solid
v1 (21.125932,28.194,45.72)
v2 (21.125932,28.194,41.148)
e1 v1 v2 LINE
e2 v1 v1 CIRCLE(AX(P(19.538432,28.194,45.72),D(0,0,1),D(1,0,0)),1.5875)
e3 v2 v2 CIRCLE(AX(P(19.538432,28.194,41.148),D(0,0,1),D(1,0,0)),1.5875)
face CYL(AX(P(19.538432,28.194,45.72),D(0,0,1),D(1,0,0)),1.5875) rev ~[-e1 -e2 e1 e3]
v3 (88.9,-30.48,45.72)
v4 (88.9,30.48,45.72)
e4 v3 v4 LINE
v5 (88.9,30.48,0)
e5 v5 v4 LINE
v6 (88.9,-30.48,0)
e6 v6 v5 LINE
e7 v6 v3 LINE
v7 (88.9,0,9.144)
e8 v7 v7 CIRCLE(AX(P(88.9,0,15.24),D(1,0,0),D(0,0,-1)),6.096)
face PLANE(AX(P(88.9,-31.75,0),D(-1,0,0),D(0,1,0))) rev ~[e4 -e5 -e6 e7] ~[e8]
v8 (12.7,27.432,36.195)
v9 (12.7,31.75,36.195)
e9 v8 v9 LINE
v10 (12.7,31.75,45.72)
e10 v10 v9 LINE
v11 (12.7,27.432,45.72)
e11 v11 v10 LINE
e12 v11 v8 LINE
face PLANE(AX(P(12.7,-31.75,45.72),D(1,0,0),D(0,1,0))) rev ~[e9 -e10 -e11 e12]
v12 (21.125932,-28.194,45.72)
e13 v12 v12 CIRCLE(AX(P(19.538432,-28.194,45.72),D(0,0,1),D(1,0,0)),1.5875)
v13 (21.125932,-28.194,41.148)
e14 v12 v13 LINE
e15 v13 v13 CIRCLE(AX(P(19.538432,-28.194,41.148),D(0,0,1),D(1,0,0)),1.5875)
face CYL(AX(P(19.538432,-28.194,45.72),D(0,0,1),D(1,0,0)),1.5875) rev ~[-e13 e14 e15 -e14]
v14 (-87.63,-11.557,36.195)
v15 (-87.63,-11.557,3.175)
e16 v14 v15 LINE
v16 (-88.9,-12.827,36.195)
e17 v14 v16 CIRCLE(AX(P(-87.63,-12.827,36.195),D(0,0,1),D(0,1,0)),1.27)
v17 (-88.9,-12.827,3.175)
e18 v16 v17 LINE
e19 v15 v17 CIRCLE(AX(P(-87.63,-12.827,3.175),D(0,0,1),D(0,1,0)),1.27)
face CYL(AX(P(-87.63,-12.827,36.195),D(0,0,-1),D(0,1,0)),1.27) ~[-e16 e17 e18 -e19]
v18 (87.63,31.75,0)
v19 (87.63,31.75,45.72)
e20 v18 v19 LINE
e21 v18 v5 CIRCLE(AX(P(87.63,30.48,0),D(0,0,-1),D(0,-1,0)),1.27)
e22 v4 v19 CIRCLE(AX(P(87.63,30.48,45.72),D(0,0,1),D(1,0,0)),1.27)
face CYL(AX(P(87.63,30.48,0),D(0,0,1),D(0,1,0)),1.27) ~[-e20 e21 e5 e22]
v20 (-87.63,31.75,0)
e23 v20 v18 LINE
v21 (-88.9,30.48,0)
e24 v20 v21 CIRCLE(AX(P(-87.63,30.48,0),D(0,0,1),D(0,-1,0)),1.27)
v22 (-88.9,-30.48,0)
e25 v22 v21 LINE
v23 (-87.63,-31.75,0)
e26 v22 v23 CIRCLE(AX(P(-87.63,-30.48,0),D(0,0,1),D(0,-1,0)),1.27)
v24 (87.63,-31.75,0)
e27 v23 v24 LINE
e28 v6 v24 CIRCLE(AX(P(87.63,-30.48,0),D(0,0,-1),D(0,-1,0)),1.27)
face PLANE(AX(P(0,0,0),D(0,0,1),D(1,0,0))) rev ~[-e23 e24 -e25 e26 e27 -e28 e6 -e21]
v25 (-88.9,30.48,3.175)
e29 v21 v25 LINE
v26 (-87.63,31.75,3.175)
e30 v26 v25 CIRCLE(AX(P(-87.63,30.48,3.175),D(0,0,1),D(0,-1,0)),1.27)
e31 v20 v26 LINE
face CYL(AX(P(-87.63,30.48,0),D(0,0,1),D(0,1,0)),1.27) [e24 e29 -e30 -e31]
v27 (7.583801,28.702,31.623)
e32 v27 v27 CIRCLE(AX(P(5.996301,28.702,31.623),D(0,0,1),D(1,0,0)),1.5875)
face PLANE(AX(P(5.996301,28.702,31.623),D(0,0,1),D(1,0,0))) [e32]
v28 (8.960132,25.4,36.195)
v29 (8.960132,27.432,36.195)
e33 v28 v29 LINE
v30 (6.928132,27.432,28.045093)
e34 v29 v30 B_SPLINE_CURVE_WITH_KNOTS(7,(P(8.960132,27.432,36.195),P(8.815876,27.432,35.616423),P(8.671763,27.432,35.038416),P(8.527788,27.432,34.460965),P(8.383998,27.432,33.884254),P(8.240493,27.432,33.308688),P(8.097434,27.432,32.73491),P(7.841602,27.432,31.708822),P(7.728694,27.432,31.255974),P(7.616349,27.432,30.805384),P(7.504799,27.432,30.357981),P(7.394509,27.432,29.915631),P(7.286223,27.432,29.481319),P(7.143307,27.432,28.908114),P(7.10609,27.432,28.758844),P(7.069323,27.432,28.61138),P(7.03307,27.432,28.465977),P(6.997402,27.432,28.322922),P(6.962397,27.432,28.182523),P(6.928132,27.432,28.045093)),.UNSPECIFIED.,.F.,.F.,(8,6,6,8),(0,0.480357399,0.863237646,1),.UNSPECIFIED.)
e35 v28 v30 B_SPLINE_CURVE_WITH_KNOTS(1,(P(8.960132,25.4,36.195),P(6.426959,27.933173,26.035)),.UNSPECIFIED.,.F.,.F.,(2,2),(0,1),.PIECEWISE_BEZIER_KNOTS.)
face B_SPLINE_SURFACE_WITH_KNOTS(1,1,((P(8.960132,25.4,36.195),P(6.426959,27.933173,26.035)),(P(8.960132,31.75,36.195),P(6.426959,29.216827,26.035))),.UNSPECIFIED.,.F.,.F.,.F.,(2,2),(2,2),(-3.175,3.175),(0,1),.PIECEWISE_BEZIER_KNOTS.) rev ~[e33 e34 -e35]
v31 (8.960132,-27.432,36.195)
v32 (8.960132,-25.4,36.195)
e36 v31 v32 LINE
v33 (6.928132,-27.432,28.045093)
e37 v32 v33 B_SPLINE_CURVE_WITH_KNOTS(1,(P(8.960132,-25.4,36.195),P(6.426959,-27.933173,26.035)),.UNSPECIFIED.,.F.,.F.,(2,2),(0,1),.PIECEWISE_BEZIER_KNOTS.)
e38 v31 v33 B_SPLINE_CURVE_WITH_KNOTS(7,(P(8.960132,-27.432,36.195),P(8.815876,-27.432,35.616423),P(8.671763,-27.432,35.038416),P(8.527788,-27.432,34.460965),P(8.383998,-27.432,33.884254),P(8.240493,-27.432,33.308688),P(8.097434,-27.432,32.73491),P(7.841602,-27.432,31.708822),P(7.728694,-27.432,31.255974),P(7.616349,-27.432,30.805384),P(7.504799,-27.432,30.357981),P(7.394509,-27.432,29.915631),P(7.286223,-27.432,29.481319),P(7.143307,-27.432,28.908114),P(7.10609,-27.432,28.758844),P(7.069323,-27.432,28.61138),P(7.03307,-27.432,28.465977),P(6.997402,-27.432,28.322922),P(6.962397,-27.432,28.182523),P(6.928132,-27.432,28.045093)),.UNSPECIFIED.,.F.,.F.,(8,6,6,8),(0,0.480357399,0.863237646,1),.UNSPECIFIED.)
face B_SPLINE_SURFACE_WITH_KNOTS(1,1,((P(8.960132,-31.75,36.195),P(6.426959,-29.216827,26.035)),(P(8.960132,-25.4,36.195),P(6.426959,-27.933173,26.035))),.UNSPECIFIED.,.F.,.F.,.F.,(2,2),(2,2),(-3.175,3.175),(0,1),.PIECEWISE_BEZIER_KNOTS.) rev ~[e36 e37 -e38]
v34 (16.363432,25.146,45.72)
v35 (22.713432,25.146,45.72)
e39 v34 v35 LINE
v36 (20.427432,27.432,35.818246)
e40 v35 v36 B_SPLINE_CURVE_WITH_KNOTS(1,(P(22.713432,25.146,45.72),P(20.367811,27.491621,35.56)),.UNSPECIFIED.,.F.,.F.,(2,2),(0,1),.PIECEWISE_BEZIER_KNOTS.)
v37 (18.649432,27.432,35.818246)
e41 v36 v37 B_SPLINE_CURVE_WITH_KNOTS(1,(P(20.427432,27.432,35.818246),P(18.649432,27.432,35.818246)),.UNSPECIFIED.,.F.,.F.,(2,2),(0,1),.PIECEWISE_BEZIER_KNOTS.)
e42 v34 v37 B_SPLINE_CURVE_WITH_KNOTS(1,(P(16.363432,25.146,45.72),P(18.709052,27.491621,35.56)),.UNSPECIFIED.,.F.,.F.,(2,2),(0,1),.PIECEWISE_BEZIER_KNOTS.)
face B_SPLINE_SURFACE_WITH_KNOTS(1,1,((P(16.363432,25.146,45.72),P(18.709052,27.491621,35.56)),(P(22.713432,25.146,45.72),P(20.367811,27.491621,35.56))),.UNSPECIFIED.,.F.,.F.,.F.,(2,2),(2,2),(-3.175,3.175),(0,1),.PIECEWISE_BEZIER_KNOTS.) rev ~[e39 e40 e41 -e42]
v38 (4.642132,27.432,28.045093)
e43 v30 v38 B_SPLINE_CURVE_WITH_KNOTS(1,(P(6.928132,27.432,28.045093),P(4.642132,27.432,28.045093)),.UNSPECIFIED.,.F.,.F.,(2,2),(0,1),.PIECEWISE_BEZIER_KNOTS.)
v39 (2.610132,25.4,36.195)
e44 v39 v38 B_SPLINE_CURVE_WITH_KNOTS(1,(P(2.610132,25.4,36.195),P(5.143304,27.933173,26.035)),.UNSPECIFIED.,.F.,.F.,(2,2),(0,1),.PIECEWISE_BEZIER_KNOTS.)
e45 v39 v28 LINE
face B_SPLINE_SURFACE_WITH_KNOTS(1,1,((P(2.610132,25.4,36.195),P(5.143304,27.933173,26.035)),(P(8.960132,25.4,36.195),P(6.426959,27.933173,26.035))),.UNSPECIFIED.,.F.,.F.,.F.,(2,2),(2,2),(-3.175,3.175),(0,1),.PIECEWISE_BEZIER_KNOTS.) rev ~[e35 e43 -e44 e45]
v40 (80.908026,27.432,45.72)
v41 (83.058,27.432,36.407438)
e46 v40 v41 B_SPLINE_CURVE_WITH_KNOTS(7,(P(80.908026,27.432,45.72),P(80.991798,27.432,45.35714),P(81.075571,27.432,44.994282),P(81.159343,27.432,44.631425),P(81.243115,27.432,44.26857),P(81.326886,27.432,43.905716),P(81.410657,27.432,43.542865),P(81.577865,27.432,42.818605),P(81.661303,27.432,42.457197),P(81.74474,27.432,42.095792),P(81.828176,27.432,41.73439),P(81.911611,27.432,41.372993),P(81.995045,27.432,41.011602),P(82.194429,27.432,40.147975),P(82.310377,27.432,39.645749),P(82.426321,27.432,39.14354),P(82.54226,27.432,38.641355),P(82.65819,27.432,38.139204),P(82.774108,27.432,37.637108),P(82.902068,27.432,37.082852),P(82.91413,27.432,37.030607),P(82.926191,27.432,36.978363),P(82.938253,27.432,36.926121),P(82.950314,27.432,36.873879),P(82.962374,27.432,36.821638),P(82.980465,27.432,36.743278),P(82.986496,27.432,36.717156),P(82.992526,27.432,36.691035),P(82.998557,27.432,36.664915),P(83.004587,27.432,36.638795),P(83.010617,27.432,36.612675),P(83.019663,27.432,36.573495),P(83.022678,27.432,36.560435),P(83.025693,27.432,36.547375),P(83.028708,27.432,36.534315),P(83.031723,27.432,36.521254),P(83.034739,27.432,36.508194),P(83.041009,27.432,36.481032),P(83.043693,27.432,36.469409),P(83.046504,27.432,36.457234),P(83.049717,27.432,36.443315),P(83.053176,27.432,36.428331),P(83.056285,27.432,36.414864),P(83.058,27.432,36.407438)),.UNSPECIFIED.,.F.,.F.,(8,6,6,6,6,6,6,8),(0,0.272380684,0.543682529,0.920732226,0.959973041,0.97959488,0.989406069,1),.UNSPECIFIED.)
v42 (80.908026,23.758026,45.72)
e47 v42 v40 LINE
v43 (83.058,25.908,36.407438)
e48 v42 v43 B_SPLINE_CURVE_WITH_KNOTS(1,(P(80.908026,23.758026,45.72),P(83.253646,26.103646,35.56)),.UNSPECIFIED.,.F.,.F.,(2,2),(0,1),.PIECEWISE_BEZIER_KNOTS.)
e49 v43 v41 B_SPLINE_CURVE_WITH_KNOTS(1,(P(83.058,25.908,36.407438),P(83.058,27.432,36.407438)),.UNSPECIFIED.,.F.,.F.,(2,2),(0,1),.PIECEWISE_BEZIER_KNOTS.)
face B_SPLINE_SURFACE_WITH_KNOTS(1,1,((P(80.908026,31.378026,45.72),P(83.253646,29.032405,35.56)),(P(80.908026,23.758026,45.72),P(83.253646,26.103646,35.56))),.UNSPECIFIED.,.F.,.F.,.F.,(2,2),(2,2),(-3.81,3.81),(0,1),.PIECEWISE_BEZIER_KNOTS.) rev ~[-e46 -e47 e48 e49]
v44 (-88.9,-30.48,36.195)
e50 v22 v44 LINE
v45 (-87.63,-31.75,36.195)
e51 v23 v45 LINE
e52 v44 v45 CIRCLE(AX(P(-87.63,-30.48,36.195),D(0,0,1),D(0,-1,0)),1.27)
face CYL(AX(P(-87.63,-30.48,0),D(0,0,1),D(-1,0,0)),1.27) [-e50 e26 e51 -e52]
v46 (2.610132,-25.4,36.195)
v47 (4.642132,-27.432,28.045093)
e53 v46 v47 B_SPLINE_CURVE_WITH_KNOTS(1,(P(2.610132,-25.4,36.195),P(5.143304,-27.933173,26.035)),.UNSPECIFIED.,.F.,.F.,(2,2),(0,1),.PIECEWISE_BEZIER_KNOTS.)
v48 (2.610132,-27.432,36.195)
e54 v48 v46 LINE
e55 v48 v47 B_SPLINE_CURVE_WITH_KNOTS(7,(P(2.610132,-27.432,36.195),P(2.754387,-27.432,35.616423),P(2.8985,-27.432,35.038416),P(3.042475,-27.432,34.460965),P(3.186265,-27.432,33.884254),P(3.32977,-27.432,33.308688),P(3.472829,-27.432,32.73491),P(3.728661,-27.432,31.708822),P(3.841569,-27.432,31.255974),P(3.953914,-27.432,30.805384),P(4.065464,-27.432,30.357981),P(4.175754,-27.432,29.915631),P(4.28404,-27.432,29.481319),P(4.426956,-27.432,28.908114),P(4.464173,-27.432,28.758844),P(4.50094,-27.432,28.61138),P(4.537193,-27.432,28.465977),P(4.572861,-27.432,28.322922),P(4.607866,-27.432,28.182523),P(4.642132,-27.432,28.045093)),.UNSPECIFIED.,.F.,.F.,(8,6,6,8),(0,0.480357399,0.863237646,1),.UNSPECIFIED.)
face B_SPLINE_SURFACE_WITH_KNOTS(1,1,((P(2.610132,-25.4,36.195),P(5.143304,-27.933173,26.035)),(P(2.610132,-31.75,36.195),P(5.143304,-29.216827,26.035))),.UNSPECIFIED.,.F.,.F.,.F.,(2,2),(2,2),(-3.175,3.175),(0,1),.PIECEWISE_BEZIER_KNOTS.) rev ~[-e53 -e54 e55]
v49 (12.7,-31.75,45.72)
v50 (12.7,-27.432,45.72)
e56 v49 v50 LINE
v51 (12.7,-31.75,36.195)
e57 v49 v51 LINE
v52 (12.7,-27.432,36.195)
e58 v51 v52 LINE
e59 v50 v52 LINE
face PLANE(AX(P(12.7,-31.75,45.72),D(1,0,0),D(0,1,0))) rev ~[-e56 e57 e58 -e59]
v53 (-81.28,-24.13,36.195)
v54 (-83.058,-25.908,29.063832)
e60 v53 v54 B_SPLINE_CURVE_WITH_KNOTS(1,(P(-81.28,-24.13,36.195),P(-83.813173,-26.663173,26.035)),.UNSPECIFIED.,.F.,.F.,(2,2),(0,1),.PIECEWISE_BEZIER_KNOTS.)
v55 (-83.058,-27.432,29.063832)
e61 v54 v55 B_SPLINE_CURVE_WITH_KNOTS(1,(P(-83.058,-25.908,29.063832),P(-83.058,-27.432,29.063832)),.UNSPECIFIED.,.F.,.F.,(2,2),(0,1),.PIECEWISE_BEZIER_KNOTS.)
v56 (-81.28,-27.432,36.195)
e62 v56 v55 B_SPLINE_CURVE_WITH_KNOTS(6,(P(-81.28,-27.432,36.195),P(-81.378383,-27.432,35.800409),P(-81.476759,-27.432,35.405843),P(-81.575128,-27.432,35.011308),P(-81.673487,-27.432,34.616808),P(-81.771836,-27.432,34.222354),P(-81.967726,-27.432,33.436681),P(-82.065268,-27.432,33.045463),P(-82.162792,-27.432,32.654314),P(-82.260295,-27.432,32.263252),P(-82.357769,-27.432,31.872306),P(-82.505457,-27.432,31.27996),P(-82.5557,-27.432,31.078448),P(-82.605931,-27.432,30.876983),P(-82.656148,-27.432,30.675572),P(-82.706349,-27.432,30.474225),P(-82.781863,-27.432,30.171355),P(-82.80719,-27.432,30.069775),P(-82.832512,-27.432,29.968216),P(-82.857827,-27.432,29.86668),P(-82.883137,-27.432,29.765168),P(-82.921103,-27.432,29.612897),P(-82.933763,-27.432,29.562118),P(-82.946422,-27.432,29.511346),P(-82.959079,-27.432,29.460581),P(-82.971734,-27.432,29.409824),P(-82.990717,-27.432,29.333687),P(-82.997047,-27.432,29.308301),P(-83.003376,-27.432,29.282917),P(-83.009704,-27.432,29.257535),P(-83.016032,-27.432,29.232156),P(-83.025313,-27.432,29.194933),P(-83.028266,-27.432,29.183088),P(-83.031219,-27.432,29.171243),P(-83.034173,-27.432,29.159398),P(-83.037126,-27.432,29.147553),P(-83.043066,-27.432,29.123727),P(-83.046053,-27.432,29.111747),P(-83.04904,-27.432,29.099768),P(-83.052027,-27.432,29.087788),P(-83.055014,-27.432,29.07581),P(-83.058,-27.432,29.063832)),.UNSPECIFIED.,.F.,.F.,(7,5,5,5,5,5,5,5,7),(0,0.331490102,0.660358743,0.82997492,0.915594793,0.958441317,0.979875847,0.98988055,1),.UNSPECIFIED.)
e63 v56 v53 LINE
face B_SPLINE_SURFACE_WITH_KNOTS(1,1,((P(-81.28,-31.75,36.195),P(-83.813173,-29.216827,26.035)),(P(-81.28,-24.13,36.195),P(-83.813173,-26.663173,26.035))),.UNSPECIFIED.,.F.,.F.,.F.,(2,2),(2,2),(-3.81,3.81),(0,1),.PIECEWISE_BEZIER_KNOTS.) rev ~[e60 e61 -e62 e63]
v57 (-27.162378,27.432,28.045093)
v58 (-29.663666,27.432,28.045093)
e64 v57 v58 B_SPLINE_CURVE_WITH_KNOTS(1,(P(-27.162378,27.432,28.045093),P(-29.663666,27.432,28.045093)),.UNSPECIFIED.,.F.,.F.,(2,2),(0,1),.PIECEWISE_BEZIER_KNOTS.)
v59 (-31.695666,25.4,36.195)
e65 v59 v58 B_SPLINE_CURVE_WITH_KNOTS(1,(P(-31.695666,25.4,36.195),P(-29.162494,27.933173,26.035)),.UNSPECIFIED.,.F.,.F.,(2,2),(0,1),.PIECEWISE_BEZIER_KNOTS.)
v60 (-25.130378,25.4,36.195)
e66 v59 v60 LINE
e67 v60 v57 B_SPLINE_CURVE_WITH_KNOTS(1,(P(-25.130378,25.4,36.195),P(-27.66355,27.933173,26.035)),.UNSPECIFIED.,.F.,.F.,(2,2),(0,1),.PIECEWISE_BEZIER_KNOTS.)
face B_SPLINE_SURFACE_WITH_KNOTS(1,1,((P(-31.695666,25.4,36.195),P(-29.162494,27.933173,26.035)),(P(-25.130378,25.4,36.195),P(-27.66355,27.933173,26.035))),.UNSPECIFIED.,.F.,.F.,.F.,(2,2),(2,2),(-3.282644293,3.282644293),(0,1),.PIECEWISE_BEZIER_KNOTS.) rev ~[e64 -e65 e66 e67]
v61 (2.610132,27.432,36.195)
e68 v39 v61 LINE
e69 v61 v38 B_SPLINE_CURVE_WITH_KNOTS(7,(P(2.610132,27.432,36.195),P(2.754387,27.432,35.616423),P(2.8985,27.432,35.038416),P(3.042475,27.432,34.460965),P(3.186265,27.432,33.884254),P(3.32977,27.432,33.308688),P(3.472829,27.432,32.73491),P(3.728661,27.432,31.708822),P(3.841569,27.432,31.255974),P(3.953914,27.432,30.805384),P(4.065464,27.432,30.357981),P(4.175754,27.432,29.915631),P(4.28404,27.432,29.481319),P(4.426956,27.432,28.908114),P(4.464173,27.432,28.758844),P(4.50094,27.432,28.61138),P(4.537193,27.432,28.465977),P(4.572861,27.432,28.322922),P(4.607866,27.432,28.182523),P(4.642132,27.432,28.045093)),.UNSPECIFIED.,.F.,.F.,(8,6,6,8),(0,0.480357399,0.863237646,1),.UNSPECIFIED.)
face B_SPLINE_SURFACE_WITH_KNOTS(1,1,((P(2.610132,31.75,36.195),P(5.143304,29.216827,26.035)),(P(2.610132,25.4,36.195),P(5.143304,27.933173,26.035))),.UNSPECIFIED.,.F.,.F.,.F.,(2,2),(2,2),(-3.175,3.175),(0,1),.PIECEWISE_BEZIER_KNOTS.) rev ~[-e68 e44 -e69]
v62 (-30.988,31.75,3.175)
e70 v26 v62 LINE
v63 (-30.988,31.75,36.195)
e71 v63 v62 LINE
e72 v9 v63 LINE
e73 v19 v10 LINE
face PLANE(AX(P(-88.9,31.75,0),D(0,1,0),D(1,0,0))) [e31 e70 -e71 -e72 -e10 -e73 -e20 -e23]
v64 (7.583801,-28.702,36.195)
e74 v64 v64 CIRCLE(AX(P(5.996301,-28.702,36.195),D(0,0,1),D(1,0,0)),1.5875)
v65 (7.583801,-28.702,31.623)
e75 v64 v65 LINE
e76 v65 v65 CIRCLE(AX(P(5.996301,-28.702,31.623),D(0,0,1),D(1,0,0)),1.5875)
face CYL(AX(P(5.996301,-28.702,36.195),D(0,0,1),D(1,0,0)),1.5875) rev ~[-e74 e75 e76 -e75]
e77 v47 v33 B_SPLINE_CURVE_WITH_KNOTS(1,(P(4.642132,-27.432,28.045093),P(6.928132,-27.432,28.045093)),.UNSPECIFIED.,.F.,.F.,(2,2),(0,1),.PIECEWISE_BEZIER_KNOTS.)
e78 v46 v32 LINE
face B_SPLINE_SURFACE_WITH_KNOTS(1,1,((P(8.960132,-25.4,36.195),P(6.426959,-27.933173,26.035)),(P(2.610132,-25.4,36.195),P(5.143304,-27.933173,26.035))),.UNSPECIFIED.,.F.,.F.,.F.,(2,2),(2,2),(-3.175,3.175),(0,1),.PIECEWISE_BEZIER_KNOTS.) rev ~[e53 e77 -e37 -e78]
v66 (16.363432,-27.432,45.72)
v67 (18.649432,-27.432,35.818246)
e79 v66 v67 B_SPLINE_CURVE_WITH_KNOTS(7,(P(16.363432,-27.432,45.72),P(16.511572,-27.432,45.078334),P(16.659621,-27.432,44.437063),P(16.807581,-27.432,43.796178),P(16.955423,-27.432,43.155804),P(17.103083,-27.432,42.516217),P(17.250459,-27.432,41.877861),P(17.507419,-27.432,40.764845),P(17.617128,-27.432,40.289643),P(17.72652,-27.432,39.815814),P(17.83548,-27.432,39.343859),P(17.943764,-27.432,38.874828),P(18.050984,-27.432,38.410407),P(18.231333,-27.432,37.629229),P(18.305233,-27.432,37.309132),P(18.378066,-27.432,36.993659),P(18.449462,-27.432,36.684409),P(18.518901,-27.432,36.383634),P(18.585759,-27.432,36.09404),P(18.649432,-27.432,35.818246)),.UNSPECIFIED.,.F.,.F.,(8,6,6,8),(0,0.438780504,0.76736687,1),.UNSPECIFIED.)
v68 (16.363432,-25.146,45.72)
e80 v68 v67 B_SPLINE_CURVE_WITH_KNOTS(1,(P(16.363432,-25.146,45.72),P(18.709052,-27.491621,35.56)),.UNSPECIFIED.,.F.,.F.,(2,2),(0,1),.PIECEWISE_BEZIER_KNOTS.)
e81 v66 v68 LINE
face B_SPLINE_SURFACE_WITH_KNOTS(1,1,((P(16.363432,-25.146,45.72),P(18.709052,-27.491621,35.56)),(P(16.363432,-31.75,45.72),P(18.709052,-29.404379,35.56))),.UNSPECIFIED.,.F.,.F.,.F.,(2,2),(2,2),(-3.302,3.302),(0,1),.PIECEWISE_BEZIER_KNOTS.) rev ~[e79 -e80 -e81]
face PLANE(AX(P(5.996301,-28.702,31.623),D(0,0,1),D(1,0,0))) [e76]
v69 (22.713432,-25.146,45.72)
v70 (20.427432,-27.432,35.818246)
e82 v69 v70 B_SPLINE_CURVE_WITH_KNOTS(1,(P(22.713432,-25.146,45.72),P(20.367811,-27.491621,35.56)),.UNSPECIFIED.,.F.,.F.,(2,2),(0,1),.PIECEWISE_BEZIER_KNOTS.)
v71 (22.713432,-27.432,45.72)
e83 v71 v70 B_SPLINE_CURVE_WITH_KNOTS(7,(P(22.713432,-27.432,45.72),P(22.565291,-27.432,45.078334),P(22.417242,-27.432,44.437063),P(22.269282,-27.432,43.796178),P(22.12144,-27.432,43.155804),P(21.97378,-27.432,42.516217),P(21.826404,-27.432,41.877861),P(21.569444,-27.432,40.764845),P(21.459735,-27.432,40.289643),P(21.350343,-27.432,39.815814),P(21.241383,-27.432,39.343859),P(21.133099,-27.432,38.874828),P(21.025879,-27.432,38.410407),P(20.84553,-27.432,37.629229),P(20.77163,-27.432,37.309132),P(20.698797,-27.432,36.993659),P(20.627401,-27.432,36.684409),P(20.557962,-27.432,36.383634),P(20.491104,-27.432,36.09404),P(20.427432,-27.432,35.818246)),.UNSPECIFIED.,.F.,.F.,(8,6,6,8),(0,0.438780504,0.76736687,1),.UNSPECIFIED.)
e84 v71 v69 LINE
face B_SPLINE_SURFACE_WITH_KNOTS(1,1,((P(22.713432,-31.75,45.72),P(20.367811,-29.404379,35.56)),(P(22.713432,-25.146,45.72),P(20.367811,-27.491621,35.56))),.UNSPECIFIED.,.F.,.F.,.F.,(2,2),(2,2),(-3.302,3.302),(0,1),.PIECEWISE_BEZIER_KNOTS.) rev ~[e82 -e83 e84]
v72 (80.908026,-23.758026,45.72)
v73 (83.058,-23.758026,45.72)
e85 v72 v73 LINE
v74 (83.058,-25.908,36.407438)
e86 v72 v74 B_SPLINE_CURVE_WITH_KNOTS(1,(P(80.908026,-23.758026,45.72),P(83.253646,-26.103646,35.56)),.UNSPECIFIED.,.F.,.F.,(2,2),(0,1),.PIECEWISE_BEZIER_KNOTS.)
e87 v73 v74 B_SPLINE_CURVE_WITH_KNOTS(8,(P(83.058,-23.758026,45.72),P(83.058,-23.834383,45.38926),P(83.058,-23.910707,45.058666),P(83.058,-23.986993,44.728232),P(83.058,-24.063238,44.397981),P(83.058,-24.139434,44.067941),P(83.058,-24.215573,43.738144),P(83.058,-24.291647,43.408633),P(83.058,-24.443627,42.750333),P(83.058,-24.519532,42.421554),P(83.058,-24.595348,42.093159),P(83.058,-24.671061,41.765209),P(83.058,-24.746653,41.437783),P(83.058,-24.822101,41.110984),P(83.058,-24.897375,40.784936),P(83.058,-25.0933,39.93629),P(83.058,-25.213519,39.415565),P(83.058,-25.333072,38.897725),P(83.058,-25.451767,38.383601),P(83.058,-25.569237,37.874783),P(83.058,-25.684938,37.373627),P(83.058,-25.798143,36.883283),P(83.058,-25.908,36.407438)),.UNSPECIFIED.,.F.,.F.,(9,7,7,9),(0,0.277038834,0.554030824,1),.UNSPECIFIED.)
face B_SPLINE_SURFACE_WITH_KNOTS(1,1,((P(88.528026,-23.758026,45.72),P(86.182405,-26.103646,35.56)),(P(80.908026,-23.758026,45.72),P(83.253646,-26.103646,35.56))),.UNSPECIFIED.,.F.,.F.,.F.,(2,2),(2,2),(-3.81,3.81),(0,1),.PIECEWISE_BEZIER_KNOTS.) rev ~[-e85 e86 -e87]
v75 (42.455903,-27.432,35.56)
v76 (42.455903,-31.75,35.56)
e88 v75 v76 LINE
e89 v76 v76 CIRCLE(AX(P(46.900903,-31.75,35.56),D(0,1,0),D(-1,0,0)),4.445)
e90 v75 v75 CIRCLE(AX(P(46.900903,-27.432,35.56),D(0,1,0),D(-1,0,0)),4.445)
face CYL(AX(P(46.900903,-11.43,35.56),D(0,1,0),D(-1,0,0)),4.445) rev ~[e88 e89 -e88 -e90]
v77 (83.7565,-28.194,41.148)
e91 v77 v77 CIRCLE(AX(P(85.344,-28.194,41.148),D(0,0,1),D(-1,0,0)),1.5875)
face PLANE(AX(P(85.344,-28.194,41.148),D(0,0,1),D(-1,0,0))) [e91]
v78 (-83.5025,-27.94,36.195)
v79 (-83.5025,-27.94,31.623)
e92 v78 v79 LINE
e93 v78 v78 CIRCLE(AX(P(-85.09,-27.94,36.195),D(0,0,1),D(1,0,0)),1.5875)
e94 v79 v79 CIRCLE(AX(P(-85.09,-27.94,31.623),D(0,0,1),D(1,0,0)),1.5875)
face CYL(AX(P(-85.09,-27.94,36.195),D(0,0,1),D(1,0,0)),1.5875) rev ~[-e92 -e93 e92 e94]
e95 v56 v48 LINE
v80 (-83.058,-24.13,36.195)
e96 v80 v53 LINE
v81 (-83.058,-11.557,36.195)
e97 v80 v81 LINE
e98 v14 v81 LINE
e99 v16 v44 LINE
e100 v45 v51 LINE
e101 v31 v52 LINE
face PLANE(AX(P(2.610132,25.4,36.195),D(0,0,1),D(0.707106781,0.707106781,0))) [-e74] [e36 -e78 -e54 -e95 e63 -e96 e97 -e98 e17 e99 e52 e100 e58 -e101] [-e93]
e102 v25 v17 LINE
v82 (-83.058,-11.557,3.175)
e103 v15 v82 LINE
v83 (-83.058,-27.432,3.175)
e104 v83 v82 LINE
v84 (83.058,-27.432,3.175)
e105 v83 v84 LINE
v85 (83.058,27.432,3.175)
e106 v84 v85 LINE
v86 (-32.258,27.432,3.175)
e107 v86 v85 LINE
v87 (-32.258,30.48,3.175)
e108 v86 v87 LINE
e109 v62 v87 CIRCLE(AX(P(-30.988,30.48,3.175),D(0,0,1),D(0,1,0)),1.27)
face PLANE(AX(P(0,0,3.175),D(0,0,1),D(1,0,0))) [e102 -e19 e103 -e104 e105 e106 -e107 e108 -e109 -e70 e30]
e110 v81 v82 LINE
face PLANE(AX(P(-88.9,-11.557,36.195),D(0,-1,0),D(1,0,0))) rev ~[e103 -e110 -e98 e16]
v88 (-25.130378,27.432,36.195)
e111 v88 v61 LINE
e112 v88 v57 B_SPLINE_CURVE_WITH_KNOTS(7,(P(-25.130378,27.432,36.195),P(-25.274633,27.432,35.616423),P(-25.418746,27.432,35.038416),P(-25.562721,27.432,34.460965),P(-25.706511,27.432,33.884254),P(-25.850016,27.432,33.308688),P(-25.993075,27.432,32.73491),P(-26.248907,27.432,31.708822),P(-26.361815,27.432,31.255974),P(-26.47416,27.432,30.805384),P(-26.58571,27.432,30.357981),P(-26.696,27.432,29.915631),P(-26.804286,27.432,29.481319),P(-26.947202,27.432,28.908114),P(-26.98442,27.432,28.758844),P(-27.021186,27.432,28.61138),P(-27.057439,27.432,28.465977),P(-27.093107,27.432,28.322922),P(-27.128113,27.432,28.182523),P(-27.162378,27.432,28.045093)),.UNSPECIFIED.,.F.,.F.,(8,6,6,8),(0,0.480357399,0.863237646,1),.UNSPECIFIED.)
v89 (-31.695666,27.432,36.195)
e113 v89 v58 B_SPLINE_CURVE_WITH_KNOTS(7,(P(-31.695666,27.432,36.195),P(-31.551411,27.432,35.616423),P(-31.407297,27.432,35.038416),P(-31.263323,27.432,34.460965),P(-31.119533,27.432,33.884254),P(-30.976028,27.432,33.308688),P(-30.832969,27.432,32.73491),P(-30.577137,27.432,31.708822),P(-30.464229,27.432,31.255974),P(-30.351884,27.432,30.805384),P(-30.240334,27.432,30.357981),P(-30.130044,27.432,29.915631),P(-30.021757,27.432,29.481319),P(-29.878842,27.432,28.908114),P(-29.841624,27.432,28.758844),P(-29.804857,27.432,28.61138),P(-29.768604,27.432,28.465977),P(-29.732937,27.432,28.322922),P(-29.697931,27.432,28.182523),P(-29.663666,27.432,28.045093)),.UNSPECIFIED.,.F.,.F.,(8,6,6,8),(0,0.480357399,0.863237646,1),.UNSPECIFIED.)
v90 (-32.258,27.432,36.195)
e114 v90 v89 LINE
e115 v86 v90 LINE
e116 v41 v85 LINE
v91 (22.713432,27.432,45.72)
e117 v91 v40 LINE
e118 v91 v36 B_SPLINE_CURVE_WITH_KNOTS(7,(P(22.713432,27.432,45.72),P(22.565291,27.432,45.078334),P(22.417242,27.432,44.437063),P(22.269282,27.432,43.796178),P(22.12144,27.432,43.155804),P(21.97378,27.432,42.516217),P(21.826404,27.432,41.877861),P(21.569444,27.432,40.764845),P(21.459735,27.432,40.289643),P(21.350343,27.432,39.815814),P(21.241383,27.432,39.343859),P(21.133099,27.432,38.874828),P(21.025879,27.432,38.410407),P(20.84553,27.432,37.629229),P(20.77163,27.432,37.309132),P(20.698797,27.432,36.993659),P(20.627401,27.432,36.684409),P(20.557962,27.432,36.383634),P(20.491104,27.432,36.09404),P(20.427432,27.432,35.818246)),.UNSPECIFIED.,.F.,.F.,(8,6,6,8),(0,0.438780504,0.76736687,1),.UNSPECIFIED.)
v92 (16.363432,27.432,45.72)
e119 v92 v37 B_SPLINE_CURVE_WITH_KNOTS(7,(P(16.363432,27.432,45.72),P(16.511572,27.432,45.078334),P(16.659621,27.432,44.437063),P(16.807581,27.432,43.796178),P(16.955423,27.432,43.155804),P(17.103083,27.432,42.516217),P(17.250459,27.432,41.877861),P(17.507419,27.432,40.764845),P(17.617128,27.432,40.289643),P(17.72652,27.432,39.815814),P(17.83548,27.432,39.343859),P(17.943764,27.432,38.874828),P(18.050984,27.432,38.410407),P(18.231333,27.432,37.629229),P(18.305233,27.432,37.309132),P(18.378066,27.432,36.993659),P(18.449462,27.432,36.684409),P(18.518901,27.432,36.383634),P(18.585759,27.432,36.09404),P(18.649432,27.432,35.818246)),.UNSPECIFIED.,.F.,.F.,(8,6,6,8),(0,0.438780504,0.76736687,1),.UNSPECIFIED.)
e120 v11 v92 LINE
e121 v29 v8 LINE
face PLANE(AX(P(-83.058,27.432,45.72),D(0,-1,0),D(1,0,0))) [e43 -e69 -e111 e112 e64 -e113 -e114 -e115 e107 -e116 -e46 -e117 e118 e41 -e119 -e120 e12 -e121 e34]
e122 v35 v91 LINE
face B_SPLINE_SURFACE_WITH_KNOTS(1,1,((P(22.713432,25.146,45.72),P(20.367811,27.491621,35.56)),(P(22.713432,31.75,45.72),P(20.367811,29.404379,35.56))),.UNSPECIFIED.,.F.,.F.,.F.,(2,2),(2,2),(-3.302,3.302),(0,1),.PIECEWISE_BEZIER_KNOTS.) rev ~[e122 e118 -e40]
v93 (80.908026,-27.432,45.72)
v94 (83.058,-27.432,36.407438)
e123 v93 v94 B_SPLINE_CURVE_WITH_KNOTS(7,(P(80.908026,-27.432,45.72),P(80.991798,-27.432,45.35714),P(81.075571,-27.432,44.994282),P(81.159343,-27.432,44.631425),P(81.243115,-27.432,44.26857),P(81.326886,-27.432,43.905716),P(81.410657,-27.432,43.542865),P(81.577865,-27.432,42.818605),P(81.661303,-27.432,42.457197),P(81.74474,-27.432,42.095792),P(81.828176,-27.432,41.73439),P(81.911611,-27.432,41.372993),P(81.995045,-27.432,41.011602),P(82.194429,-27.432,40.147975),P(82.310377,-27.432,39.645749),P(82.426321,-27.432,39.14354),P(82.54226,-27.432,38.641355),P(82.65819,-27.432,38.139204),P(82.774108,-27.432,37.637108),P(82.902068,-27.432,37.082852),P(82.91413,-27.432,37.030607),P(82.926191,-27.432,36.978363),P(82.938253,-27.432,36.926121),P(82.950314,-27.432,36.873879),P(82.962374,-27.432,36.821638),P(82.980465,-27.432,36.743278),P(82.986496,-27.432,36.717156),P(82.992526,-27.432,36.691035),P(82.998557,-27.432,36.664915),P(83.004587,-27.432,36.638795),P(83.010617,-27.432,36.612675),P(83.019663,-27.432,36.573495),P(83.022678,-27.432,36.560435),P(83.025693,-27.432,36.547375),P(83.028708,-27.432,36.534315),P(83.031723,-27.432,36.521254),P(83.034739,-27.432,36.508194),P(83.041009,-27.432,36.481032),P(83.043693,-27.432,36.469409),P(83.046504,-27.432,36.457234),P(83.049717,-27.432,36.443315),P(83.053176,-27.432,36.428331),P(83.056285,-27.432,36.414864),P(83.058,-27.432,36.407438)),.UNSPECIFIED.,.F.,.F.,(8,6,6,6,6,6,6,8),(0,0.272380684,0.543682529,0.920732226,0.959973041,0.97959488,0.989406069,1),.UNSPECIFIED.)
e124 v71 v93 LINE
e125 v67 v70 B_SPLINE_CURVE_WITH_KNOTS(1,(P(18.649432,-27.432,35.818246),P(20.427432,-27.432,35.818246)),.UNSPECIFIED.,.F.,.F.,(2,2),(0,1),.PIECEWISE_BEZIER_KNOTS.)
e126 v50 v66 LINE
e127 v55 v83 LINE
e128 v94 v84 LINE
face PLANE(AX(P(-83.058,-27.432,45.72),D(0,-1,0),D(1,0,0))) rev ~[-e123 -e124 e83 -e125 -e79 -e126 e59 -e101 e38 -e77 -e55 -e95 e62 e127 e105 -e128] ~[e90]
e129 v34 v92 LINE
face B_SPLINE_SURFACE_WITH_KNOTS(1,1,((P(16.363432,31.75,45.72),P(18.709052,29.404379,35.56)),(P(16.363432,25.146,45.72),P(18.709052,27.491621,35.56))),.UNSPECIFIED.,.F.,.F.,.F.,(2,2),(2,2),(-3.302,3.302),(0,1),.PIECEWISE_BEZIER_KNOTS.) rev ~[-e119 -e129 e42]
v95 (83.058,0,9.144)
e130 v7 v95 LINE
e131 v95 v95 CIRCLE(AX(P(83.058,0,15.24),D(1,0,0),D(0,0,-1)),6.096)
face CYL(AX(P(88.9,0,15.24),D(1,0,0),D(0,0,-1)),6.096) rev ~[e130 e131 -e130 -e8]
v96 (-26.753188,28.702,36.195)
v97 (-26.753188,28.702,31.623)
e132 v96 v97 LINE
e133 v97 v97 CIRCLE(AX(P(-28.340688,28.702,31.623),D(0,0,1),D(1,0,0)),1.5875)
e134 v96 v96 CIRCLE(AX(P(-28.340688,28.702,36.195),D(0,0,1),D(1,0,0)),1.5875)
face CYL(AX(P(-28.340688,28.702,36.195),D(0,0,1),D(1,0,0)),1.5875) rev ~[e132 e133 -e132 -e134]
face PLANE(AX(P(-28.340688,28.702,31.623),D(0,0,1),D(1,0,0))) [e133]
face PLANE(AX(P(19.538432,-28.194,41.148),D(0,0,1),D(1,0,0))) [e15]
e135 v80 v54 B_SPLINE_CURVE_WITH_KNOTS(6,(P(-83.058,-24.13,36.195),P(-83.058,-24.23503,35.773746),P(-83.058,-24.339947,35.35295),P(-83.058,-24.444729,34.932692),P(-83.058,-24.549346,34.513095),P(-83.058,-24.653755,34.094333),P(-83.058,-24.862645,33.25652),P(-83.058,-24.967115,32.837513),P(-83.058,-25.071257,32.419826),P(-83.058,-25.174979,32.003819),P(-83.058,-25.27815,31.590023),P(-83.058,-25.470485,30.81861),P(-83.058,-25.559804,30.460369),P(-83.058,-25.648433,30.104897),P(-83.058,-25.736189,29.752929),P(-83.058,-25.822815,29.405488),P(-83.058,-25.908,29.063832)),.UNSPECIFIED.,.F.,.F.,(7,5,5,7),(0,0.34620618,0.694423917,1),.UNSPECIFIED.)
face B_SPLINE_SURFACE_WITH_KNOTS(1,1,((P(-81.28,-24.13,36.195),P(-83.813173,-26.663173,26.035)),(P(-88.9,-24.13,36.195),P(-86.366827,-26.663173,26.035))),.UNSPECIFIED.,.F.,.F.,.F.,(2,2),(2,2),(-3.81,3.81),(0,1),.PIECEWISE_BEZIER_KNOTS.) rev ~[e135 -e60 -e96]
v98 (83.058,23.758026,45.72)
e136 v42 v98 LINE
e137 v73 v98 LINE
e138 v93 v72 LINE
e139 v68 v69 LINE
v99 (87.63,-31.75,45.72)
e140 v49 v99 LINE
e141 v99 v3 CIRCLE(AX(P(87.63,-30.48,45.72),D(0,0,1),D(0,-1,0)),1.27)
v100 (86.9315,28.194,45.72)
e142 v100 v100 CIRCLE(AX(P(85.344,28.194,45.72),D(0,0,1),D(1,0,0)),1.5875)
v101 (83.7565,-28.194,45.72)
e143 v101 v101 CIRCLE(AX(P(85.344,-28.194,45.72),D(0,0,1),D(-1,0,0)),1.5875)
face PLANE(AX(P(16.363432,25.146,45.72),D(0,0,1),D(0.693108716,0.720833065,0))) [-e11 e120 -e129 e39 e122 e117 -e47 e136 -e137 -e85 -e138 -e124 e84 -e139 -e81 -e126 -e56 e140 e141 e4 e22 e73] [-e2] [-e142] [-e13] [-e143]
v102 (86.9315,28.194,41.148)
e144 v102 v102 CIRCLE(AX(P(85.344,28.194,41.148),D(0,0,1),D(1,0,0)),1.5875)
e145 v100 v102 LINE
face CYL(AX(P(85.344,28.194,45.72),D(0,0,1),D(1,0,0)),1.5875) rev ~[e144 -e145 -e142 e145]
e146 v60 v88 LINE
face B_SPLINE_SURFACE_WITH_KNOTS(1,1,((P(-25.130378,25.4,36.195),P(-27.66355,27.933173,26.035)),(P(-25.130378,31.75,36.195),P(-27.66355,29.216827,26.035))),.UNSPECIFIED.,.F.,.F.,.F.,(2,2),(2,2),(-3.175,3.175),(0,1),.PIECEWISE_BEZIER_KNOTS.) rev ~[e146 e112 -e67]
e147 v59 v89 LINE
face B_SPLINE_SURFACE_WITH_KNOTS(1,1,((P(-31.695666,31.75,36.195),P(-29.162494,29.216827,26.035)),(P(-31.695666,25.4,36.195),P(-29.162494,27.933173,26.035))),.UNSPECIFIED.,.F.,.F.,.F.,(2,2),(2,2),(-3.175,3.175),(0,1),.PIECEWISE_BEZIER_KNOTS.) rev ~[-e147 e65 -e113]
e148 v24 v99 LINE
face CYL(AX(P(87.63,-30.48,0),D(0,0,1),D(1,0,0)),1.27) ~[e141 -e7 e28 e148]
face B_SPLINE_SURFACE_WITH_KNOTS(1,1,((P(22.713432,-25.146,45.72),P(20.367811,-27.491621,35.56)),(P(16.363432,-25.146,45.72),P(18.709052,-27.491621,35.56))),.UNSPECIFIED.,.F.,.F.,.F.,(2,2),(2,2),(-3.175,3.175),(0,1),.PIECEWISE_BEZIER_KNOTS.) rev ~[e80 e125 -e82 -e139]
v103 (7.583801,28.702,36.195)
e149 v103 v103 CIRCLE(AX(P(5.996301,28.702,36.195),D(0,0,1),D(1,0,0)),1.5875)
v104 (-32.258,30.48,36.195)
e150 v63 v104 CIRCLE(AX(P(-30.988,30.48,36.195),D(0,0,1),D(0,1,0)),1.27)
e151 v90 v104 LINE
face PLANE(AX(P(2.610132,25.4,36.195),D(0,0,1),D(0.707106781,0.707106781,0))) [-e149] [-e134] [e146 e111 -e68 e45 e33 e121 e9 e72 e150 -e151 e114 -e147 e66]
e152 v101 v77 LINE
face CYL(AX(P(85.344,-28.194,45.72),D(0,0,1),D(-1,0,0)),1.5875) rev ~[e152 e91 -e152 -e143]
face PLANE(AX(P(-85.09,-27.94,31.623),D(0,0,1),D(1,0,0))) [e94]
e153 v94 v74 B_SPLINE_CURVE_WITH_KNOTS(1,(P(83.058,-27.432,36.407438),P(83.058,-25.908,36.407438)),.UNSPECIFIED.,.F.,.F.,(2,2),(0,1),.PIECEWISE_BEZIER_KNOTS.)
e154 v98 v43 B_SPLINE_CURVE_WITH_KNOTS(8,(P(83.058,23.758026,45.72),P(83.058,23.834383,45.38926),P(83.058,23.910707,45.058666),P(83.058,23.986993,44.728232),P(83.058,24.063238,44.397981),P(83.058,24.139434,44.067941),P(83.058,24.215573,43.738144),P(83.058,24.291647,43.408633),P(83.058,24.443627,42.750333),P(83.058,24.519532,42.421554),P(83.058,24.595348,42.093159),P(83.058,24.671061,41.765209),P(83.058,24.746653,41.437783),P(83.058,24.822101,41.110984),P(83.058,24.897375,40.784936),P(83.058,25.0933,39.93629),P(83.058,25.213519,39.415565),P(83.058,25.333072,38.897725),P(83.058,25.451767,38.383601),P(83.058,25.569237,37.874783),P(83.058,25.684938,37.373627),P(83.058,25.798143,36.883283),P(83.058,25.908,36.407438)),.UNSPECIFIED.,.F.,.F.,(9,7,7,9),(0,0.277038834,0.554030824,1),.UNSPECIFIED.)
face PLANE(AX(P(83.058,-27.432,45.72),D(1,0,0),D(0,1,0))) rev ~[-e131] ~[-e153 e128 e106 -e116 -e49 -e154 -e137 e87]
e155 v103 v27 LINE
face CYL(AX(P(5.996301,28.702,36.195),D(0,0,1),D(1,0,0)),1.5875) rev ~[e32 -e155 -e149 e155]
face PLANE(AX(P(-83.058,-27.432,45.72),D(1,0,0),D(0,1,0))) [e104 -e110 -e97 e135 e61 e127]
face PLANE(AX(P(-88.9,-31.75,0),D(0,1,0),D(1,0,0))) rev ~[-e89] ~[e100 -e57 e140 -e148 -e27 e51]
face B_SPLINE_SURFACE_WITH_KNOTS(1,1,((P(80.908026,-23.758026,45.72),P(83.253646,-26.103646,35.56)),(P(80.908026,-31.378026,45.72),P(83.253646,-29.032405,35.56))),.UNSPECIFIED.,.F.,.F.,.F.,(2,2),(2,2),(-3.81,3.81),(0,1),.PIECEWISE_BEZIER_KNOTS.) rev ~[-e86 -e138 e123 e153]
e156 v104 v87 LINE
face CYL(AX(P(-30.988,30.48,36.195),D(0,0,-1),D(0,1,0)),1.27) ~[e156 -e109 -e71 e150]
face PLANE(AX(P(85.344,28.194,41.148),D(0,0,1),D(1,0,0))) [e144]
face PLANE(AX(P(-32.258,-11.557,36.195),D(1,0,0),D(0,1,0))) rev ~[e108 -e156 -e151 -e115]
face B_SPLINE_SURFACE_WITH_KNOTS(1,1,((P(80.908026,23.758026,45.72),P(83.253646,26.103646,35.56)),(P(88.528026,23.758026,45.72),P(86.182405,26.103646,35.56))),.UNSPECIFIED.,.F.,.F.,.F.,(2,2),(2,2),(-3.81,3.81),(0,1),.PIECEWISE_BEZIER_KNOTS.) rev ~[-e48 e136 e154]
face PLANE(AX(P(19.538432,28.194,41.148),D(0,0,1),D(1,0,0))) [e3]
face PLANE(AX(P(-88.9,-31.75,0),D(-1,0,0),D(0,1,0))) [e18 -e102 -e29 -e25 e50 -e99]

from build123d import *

# Parameters (mm, degrees)
SKETCH1_W           = 177.8
SKETCH1_H           = 63.5
BOSS_EXTRUDE1_DEPTH = 45.72
SKETCH2_W           = 101.6
SKETCH2_H           = 63.5
CUT_EXTRUDE1_DEPTH  = 9.525
SKETCH3_W           = 166.116
SKETCH3_H           = 54.864
CUT_EXTRUDE2_DEPTH  = 42.545
SKETCH4_R           = 6.096
CUT_EXTRUDE3_DEPTH  = 31.75
CUT_EXTRUDE4_START  = -43.18
SKETCH5_R           = 4.445
CUT_EXTRUDE4_DEPTH  = 31.75
SKETCH9_W           = 6.35
SKETCH9_H           = 6.35
SKETCH9_W_2         = 6.565288585
SKETCH9_W_3         = 7.62
SKETCH9_H_2         = 7.62
BOSS_EXTRUDE2_DEPTH = 10.16
BOSS_EXTRUDE2_TAPER = 14
SKETCH6_W           = 56.642
SKETCH6_H           = 43.307
CUT_EXTRUDE5_DEPTH  = 33.02
SKETCH8_R           = 1.5875
CUT_EXTRUDE7_DEPTH  = 4.572
FILLET1_R           = 1.27
FILLET2_R           = 1.27
SKETCH10_W          = 6.35
SKETCH10_H          = 6.604
SKETCH10_W_2        = 7.62
SKETCH10_H_2        = 7.62
BOSS_EXTRUDE3_DEPTH = 10.16
BOSS_EXTRUDE3_TAPER = 13
SKETCH7_R           = 1.5875
CUT_EXTRUDE6_DEPTH  = 4.572
FILLET3_R           = 1.27


with BuildPart() as part:
    # Sketch1 → Boss-Extrude1 (new body)
    with BuildSketch(Plane.XY):
        Rectangle(SKETCH1_W, SKETCH1_H)
    extrude(amount=BOSS_EXTRUDE1_DEPTH)

    # Sketch2 → Cut-Extrude1 (cut)
    with BuildSketch(Plane.XY.offset(45.72)):
        with Locations((-38.1, 0)):
            Rectangle(SKETCH2_W, SKETCH2_H)
    extrude(amount=-CUT_EXTRUDE1_DEPTH, mode=Mode.SUBTRACT)

    # Sketch3 → Cut-Extrude2 (cut)
    with BuildSketch(Plane.XY.offset(45.72)):
        Rectangle(SKETCH3_W, SKETCH3_H)
    extrude(amount=-CUT_EXTRUDE2_DEPTH, mode=Mode.SUBTRACT)

    # Sketch4 → Cut-Extrude3 (cut)
    with BuildSketch(Plane(origin=(88.9, 0, 0), x_dir=(0, 0, -1), z_dir=(1, 0, 0))):
        with Locations((-15.24, 0)):
            Circle(SKETCH4_R)
    extrude(amount=-CUT_EXTRUDE3_DEPTH, mode=Mode.SUBTRACT)

    # Sketch5 → Cut-Extrude4 (cut)
    with BuildSketch(Plane(origin=(0, 31.75, 0), x_dir=(1, 0, 0), z_dir=(0, 1, 0)).offset(CUT_EXTRUDE4_START)):
        with Locations(Location((46.900902689, -35.56, 0), (0, 0, 180))):  # turned: the seam where the file's is
            Circle(SKETCH5_R)
    extrude(amount=-CUT_EXTRUDE4_DEPTH, mode=Mode.SUBTRACT)

    # Sketch9 → Boss-Extrude2 (add)
    with BuildSketch(Plane.XY.offset(36.195)):
        with Locations((5.78513156, 28.575)):
            Rectangle(SKETCH9_W, SKETCH9_H)
        with Locations((-28.41302197, 28.575)):
            Rectangle(SKETCH9_W_2, SKETCH9_H)
        with Locations((5.78513156, -28.575)):
            Rectangle(SKETCH9_W, SKETCH9_H)
        with Locations((-85.09, -27.94)):
            Rectangle(SKETCH9_W_3, SKETCH9_H_2)
    extrude(amount=-BOSS_EXTRUDE2_DEPTH, taper=BOSS_EXTRUDE2_TAPER)

    # Sketch6 → Cut-Extrude5 (cut)
    with BuildSketch(Plane.XY.offset(36.195)):
        with Locations((-60.579, 10.0965)):
            Rectangle(SKETCH6_W, SKETCH6_H)
    extrude(amount=-CUT_EXTRUDE5_DEPTH, mode=Mode.SUBTRACT)

    # Sketch8 → Cut-Extrude7 (cut)
    with BuildSketch(Plane.XY.offset(36.195)):
        with Locations((5.996300657, 28.702)):
            Circle(SKETCH8_R)
        with Locations((-28.340687554, 28.702)):
            Circle(SKETCH8_R)
        with Locations((5.996300657, -28.702)):
            Circle(SKETCH8_R)
        with Locations((-85.09, -27.94)):
            Circle(SKETCH8_R)
    extrude(amount=-CUT_EXTRUDE7_DEPTH, mode=Mode.SUBTRACT)

    # Fillet1
    fillet1_edges = [part.edges().sort_by_distance(p)[0] for p in [
        (-32.258, 31.75, 19.685),
        (-88.9, -31.75, 18.0975),
        (88.9, 31.75, 22.86),
        (88.9, -31.75, 22.86),
    ]]
    fillet(fillet1_edges, radius=FILLET1_R)

    # Fillet2
    fillet2_edges = [part.edges().sort_by_distance(p)[0] for p in [
        (-88.9, -11.557, 19.685),
    ]]
    fillet(fillet2_edges, radius=FILLET2_R)

    # Sketch10 → Boss-Extrude3 (add)
    with BuildSketch(Plane.XY.offset(45.72)):
        with Locations((19.538431576, 28.448)):
            Rectangle(SKETCH10_W, SKETCH10_H)
        with Locations((84.718025612, 27.568025612)):
            Rectangle(SKETCH10_W_2, SKETCH10_H_2)
        with Locations((84.718025612, -27.568025612)):
            Rectangle(SKETCH10_W_2, SKETCH10_H_2)
        with Locations((19.538431576, -28.448)):
            Rectangle(SKETCH10_W, SKETCH10_H)
    extrude(amount=-BOSS_EXTRUDE3_DEPTH, taper=BOSS_EXTRUDE3_TAPER)

    # Sketch7 → Cut-Extrude6 (cut)
    with BuildSketch(Plane.XY.offset(45.72)):
        with Locations((85.344, 28.194)):
            Circle(SKETCH7_R)
        with Locations(Location((85.344, -28.194, 0), (0, 0, 180))):  # turned: the seam where the file's is
            Circle(SKETCH7_R)
        with Locations((19.538431576, 28.194)):
            Circle(SKETCH7_R)
        with Locations((19.538431576, -28.194)):
            Circle(SKETCH7_R)
    extrude(amount=-CUT_EXTRUDE6_DEPTH, mode=Mode.SUBTRACT)

    # Fillet3
    fillet3_edges = [part.edges().sort_by_distance(p)[0] for p in [
        (-88.9, 31.75, 1.5875),
    ]]
    fillet(fillet3_edges, radius=FILLET3_R)


solid = part.part
